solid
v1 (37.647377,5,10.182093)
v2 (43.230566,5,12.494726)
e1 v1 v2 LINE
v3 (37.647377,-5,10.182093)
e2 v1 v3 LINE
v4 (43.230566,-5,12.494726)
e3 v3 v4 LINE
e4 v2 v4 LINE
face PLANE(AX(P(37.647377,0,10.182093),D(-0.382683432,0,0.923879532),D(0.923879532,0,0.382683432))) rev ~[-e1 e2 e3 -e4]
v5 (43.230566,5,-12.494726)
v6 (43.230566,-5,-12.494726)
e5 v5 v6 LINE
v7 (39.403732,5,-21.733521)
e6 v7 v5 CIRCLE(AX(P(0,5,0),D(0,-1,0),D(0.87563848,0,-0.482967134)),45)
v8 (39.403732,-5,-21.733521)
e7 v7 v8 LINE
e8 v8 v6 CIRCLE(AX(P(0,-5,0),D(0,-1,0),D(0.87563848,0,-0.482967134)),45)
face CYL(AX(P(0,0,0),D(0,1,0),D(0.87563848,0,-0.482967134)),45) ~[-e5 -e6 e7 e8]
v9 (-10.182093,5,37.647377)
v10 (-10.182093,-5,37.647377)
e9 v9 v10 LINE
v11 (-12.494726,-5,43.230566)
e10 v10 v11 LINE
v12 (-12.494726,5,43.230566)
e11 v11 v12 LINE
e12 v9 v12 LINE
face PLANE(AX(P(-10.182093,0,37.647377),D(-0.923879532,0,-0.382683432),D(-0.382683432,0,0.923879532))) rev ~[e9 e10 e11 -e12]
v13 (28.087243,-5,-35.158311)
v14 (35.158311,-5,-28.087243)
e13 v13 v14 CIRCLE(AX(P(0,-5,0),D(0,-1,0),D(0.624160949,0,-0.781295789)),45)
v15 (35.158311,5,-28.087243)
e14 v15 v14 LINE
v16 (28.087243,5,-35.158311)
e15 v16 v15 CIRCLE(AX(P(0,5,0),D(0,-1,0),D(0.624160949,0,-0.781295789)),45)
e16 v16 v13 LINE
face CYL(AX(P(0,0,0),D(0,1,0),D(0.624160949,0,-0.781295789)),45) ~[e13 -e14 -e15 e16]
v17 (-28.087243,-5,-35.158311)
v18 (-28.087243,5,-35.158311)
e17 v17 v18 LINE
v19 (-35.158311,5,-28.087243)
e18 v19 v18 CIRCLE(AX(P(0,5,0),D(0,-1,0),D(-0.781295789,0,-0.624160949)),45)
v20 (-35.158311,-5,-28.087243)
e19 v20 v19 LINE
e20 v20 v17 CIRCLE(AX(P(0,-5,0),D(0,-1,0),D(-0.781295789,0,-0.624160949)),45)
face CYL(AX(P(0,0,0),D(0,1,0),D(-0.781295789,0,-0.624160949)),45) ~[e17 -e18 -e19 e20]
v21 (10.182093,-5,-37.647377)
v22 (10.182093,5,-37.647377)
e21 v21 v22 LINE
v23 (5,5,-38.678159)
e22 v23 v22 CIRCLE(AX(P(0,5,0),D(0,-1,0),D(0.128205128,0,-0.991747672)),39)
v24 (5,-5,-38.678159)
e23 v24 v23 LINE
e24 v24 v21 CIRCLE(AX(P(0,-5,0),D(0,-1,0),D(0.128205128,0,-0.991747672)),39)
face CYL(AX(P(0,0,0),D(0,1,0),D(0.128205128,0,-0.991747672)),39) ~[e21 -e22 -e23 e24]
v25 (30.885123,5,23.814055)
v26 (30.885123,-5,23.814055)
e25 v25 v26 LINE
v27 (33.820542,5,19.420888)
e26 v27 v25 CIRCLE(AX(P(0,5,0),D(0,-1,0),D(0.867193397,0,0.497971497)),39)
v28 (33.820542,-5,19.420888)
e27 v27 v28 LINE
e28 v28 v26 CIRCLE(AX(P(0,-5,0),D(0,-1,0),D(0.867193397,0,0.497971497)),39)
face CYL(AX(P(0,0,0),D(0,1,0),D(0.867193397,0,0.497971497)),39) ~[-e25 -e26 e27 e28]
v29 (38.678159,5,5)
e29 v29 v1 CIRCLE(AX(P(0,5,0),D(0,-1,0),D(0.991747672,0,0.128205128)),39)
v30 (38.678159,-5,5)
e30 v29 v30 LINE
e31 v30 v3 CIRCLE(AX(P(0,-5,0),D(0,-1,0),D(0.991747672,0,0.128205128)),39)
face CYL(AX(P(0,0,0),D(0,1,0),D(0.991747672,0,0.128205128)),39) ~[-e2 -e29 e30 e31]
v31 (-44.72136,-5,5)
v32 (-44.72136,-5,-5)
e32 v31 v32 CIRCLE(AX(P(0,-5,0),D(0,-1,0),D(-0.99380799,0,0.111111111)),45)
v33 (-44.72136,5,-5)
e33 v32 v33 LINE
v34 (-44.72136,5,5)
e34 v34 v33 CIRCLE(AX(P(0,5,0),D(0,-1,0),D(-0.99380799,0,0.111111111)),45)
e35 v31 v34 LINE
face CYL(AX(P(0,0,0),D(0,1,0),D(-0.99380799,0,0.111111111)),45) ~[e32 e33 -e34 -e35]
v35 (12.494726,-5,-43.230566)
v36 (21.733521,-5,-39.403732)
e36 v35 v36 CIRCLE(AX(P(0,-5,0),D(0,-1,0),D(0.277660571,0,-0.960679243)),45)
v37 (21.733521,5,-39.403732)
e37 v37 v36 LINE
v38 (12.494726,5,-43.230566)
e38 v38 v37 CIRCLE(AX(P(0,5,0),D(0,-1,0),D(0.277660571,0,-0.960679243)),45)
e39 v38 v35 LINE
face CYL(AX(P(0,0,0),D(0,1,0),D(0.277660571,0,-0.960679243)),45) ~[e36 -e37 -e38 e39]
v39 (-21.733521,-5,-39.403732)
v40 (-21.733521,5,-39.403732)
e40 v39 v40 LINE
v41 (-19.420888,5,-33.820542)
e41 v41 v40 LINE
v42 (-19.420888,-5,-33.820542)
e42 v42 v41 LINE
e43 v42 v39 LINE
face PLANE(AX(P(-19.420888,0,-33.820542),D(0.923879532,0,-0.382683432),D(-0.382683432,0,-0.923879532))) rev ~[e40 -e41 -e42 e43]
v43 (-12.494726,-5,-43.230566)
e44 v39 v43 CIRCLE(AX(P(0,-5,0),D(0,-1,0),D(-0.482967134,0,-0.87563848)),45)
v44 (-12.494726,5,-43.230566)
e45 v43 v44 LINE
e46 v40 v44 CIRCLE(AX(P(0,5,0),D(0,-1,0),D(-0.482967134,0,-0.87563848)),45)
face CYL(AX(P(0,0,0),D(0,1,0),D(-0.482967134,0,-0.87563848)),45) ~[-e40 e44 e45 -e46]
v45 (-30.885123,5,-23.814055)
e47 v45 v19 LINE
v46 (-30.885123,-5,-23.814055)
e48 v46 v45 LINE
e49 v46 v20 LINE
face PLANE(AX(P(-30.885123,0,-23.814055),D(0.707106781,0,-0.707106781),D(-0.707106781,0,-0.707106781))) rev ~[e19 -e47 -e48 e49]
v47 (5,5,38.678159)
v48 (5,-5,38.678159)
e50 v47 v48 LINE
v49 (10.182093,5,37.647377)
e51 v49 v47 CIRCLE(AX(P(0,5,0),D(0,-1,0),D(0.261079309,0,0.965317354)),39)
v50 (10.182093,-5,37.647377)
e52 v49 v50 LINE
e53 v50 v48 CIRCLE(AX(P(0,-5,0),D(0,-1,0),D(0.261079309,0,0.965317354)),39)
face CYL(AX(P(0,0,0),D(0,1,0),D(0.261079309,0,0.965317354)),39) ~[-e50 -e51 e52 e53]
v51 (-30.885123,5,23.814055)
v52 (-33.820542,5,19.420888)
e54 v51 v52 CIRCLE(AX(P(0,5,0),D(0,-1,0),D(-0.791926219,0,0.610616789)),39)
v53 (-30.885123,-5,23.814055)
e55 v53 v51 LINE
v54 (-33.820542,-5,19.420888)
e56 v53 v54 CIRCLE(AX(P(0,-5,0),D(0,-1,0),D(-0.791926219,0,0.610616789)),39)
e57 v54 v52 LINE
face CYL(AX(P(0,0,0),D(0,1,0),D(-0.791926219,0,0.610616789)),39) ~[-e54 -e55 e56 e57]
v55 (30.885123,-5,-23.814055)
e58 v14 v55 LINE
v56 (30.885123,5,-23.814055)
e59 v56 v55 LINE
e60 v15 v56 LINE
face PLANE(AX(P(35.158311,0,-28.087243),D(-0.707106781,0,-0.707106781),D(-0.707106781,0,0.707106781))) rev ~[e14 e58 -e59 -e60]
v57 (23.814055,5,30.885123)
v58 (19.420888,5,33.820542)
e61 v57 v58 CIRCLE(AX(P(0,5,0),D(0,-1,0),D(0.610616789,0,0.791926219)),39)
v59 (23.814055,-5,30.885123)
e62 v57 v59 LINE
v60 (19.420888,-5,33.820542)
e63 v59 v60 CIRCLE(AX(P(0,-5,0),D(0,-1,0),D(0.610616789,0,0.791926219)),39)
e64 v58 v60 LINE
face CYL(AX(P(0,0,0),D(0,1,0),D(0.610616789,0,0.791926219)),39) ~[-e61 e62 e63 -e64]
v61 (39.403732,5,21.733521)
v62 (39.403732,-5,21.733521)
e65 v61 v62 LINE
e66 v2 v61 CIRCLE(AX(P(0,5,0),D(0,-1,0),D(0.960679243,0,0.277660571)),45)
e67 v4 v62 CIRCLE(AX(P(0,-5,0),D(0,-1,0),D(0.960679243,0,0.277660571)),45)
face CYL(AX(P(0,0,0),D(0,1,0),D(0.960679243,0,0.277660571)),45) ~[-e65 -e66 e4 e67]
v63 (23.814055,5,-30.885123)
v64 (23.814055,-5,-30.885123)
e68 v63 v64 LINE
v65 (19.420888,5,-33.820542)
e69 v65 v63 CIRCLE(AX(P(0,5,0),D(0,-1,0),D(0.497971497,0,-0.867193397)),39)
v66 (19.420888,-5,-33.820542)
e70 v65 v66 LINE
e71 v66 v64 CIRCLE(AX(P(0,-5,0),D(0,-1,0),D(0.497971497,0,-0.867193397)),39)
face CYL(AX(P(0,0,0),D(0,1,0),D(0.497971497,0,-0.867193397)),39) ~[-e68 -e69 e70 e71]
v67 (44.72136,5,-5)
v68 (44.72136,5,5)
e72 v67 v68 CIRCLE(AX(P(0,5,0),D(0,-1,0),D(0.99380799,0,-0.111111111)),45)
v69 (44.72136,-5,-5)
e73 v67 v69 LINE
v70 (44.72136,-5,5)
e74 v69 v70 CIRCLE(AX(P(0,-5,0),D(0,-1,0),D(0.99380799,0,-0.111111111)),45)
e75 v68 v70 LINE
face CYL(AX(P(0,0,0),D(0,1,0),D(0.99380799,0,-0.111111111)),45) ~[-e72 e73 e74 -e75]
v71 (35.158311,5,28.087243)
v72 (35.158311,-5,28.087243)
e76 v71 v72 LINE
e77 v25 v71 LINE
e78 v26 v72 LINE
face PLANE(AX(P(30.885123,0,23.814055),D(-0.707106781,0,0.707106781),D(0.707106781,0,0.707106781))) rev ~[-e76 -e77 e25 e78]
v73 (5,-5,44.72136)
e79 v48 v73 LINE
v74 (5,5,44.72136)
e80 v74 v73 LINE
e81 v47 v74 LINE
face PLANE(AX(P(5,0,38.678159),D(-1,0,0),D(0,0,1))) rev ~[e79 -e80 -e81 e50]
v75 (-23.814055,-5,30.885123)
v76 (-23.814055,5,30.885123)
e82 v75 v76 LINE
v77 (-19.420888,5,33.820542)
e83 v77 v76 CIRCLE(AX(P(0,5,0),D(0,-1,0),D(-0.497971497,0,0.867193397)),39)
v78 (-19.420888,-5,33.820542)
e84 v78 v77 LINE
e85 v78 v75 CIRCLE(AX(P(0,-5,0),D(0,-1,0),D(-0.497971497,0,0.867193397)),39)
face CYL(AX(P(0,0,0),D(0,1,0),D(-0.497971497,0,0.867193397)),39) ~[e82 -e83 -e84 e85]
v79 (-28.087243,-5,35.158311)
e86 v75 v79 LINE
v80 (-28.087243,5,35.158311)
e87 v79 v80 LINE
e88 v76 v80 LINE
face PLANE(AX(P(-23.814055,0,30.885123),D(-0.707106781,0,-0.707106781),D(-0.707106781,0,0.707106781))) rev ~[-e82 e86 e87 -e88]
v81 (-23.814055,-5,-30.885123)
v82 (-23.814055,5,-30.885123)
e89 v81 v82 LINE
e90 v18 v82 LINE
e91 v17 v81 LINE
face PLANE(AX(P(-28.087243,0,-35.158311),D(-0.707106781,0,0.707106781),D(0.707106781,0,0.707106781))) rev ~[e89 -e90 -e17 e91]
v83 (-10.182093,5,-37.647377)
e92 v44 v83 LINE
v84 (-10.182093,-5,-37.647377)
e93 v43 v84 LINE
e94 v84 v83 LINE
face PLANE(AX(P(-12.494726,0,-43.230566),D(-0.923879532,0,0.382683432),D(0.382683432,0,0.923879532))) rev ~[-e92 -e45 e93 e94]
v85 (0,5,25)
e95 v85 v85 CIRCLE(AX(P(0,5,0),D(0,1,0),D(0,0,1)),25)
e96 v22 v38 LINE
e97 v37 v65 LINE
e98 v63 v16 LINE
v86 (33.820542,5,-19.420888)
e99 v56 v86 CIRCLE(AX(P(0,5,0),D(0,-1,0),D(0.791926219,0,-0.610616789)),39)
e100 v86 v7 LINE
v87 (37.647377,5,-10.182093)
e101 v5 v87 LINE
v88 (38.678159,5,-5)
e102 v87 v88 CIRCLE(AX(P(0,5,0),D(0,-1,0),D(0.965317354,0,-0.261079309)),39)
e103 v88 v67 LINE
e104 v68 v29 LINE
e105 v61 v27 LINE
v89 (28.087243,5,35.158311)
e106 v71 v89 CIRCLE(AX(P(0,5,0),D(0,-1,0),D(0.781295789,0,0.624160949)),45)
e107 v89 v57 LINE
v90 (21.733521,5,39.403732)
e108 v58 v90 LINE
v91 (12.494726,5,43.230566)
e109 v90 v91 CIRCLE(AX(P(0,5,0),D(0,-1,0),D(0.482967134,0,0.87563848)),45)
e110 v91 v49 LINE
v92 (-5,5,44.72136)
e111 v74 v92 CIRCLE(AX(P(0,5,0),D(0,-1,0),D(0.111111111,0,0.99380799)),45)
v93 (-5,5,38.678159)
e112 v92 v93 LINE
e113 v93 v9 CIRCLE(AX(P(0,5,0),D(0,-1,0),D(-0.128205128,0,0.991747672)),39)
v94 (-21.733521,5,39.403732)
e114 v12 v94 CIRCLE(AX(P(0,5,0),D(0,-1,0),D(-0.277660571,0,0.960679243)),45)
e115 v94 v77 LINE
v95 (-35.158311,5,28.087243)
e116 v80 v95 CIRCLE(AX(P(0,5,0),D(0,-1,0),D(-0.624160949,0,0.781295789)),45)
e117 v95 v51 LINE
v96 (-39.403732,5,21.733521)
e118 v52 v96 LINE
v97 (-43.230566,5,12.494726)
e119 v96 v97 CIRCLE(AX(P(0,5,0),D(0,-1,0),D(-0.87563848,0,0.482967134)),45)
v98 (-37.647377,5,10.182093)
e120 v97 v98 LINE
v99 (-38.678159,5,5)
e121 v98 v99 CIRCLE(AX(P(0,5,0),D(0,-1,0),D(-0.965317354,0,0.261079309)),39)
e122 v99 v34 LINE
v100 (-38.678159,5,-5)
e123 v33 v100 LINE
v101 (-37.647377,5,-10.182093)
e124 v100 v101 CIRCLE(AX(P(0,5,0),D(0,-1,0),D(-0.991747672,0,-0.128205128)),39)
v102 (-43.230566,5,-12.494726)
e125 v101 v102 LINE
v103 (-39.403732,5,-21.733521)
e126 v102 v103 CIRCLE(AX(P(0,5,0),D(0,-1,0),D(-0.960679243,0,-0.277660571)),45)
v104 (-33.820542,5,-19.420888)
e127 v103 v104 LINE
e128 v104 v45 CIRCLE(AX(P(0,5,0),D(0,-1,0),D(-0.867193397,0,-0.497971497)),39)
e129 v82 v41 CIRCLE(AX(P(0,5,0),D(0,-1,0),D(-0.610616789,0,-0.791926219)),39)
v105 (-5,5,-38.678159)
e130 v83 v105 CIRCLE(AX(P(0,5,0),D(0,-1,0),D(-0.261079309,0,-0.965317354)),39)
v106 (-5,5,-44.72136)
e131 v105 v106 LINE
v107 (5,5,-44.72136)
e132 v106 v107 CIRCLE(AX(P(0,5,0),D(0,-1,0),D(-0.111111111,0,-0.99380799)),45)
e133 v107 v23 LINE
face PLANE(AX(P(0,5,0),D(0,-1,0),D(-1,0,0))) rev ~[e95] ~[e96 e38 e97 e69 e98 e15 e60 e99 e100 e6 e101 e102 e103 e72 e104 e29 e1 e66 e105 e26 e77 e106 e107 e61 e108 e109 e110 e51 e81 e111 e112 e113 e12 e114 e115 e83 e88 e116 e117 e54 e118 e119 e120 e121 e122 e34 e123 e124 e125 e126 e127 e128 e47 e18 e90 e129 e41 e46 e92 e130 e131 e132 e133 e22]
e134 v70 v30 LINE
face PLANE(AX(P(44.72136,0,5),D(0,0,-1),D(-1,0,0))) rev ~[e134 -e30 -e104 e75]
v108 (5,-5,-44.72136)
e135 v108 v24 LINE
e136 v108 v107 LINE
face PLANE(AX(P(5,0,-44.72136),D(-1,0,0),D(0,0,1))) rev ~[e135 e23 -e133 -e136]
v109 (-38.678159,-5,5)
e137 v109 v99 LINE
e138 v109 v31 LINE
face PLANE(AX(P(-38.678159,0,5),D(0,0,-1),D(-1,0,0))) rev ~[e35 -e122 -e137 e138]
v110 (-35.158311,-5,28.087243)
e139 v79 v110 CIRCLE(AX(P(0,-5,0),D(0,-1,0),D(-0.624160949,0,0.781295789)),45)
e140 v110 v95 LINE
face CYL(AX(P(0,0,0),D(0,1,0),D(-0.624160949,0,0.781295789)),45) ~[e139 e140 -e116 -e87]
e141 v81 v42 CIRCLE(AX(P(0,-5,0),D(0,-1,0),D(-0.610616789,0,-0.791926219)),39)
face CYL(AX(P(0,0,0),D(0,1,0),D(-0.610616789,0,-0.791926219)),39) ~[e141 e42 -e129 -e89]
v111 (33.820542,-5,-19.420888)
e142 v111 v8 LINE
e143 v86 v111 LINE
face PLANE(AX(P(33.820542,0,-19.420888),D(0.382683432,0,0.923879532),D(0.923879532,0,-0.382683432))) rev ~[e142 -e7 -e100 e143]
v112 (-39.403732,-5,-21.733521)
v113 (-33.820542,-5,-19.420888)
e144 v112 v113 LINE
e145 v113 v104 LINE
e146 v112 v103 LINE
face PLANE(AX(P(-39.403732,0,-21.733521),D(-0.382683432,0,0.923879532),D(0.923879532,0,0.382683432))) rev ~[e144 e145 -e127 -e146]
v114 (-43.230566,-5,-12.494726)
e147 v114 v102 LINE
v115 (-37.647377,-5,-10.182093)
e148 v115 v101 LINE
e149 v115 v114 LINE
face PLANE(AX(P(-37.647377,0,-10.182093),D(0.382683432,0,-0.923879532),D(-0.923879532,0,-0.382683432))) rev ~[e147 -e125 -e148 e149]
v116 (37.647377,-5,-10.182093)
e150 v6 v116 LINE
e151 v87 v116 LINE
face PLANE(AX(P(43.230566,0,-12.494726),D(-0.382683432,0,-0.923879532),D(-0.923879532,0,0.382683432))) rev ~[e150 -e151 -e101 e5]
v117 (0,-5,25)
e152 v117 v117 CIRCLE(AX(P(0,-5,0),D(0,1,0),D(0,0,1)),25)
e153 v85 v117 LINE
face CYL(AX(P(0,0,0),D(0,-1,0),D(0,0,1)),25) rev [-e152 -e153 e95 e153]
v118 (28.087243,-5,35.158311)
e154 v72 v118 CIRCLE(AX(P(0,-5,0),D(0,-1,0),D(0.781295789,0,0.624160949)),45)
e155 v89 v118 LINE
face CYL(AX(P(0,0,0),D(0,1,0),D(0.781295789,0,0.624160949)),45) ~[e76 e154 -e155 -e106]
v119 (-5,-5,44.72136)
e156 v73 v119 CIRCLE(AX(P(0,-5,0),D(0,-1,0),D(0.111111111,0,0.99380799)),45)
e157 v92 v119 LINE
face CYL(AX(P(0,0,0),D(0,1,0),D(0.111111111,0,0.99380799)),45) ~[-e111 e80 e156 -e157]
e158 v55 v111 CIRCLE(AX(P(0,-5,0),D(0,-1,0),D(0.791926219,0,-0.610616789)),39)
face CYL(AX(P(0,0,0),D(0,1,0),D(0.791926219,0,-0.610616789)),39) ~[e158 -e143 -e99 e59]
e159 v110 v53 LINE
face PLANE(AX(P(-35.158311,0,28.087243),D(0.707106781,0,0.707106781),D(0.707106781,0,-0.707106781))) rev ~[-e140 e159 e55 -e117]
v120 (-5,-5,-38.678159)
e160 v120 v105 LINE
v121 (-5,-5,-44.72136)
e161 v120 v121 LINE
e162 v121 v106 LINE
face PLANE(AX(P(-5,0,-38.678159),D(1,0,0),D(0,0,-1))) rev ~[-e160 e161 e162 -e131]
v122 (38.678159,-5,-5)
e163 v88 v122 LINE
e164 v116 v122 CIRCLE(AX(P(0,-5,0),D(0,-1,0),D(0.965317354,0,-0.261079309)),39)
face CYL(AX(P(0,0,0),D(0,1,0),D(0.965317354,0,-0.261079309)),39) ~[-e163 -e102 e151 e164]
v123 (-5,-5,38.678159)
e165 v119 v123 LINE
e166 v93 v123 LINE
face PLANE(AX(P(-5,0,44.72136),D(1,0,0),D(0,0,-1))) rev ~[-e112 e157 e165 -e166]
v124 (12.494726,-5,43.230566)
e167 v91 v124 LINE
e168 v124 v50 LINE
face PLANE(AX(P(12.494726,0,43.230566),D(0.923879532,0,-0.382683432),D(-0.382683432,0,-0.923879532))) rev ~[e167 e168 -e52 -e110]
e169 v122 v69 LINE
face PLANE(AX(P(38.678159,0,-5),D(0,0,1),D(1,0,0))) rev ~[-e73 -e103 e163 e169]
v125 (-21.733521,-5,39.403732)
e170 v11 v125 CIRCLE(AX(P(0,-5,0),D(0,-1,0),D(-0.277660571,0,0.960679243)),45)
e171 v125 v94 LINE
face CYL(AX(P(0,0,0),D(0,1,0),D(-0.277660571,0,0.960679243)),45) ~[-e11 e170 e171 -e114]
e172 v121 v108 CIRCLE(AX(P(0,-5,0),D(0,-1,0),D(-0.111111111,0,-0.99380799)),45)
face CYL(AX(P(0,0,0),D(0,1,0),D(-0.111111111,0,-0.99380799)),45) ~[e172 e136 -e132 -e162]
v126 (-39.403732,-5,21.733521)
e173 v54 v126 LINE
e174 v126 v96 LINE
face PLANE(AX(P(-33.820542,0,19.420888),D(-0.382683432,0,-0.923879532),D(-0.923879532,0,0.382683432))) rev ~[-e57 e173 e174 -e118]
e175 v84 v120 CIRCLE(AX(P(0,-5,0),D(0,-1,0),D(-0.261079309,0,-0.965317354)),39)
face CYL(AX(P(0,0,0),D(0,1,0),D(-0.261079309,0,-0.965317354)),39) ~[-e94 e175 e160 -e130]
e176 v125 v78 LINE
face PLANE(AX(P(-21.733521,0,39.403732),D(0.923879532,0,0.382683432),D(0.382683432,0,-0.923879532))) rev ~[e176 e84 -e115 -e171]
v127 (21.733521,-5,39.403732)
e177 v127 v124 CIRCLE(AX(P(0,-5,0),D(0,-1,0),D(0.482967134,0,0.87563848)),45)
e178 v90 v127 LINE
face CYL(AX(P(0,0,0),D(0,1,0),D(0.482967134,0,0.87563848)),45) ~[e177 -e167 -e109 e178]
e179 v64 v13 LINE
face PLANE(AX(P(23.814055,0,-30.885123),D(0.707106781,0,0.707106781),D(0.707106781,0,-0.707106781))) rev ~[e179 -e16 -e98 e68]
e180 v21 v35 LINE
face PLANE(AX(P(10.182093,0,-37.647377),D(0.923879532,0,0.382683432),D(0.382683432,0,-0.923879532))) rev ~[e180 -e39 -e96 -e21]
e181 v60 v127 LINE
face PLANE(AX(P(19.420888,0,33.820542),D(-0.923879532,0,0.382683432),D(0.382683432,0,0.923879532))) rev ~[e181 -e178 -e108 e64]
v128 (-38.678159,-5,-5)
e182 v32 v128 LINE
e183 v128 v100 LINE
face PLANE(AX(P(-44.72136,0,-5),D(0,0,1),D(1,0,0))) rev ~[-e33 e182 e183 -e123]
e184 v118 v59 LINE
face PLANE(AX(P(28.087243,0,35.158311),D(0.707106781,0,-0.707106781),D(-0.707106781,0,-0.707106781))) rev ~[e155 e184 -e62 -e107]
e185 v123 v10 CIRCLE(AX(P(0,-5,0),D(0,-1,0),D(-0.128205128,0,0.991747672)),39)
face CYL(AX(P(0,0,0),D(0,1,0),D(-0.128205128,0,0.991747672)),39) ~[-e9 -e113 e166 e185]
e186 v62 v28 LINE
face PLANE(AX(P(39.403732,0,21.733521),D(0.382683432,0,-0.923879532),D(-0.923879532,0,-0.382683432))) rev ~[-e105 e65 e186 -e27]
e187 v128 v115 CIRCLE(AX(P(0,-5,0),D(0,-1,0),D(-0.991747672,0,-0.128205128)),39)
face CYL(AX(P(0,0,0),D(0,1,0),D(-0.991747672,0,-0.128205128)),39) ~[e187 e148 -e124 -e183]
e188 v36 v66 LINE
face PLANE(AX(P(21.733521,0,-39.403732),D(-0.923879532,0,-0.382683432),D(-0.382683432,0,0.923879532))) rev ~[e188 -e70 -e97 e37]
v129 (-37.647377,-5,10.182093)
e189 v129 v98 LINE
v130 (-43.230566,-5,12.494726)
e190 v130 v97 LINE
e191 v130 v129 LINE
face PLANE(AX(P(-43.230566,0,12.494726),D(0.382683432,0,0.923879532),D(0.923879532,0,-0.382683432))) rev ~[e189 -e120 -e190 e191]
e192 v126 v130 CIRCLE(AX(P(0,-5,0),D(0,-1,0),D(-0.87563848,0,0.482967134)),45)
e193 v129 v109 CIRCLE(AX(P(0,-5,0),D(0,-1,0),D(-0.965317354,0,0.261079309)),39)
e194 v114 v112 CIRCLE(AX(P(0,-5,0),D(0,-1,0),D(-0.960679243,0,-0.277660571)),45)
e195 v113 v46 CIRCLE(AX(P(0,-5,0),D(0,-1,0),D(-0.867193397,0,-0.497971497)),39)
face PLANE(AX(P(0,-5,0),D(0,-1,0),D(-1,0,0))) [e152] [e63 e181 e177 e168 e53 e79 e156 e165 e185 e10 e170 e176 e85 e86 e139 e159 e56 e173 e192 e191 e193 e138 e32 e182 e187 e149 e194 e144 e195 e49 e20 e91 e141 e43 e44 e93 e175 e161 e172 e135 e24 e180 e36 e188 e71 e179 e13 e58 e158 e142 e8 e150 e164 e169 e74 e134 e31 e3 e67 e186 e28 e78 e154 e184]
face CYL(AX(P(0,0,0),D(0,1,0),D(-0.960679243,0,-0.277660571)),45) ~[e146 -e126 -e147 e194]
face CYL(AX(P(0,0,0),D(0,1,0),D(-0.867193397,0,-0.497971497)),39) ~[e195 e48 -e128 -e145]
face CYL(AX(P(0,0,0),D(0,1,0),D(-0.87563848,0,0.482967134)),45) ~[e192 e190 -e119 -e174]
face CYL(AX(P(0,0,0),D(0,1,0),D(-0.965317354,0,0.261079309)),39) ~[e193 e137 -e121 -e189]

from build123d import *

# Parameters (mm, degrees)
SKETCH1_R           = 25
BOSS_EXTRUDE1_DEPTH = 5


with BuildPart() as part:
    # Sketch1 → Boss-Extrude1 (new, symmetric)
    with BuildSketch(Plane(origin=(0, 0, 0), x_dir=(1, 0, 0), z_dir=(0, 1, 0))):
        with BuildLine():
            Line((10.182093062, 37.647376813), (12.49472571, 43.230565916))
            ThreePointArc((12.49472571, 43.230565916), (17.220754456, 41.574578963), (21.733521035, 39.403731592))
            Line((21.733521035, 39.403731592), (19.420888387, 33.820542489))
            ThreePointArc((19.420888387, 33.820542489), (21.667239088, 32.42731488), (23.814054756, 30.885122568))
            Line((23.814054756, 30.885122568), (28.087242696, 35.158310508))
            ThreePointArc((28.087242696, 35.158310508), (31.819805153, 31.819805153), (35.158310508, 28.087242696))
            Line((35.158310508, 28.087242696), (30.885122568, 23.814054756))
            ThreePointArc((30.885122568, 23.814054756), (32.42731488, 21.667239088), (33.820542489, 19.420888387))
            Line((33.820542489, 19.420888387), (39.403731592, 21.733521035))
            ThreePointArc((39.403731592, 21.733521035), (41.574578963, 17.220754456), (43.230565916, 12.49472571))
            Line((43.230565916, 12.49472571), (37.647376813, 10.182093062))
            ThreePointArc((37.647376813, 10.182093062), (38.250625936, 7.608522559), (38.678159212, 5))
            Line((38.678159212, 5), (44.72135955, 5))
            ThreePointArc((44.72135955, 5), (45, 0), (44.72135955, -5))
            Line((44.72135955, -5), (38.678159212, -5))
            ThreePointArc((38.678159212, -5), (38.250625936, -7.608522559), (37.647376813, -10.182093062))
            Line((37.647376813, -10.182093062), (43.230565916, -12.49472571))
            ThreePointArc((43.230565916, -12.49472571), (41.574578963, -17.220754456), (39.403731592, -21.733521035))
            Line((39.403731592, -21.733521035), (33.820542489, -19.420888387))
            ThreePointArc((33.820542489, -19.420888387), (32.42731488, -21.667239088), (30.885122568, -23.814054756))
            Line((30.885122568, -23.814054756), (35.158310508, -28.087242696))
            ThreePointArc((35.158310508, -28.087242696), (31.819805153, -31.819805153), (28.087242696, -35.158310508))
            Line((28.087242696, -35.158310508), (23.814054756, -30.885122568))
            ThreePointArc((23.814054756, -30.885122568), (21.667239088, -32.42731488), (19.420888387, -33.820542489))
            Line((19.420888387, -33.820542489), (21.733521035, -39.403731592))
            ThreePointArc((21.733521035, -39.403731592), (17.220754456, -41.574578963), (12.49472571, -43.230565916))
            Line((12.49472571, -43.230565916), (10.182093062, -37.647376813))
            ThreePointArc((10.182093062, -37.647376813), (7.608522559, -38.250625936), (5, -38.678159212))
            Line((5, -38.678159212), (5, -44.72135955))
            ThreePointArc((5, -44.72135955), (0, -45), (-5, -44.72135955))
            Line((-5, -44.72135955), (-5, -38.678159212))
            ThreePointArc((-5, -38.678159212), (-7.608522559, -38.250625936), (-10.182093062, -37.647376813))
            Line((-10.182093062, -37.647376813), (-12.49472571, -43.230565916))
            ThreePointArc((-12.49472571, -43.230565916), (-17.220754456, -41.574578963), (-21.733521035, -39.403731592))
            Line((-21.733521035, -39.403731592), (-19.420888387, -33.820542489))
            ThreePointArc((-19.420888387, -33.820542489), (-21.667239088, -32.42731488), (-23.814054756, -30.885122568))
            Line((-23.814054756, -30.885122568), (-28.087242696, -35.158310508))
            ThreePointArc((-28.087242696, -35.158310508), (-31.819805153, -31.819805153), (-35.158310508, -28.087242696))
            Line((-35.158310508, -28.087242696), (-30.885122568, -23.814054756))
            ThreePointArc((-30.885122568, -23.814054756), (-32.42731488, -21.667239088), (-33.820542489, -19.420888387))
            Line((-33.820542489, -19.420888387), (-39.403731592, -21.733521035))
            ThreePointArc((-39.403731592, -21.733521035), (-41.574578963, -17.220754456), (-43.230565916, -12.49472571))
            Line((-43.230565916, -12.49472571), (-37.647376813, -10.182093062))
            ThreePointArc((-37.647376813, -10.182093062), (-38.250625936, -7.608522559), (-38.678159212, -5))
            Line((-38.678159212, -5), (-44.72135955, -5))
            ThreePointArc((-44.72135955, -5), (-45, 0), (-44.72135955, 5))
            Line((-44.72135955, 5), (-38.678159212, 5))
            ThreePointArc((-38.678159212, 5), (-38.250625936, 7.608522559), (-37.647376813, 10.182093062))
            Line((-37.647376813, 10.182093062), (-43.230565916, 12.49472571))
            ThreePointArc((-43.230565916, 12.49472571), (-41.574578963, 17.220754456), (-39.403731592, 21.733521035))
            Line((-39.403731592, 21.733521035), (-33.820542489, 19.420888387))
            ThreePointArc((-33.820542489, 19.420888387), (-32.42731488, 21.667239088), (-30.885122568, 23.814054756))
            Line((-30.885122568, 23.814054756), (-35.158310508, 28.087242696))
            ThreePointArc((-35.158310508, 28.087242696), (-31.819805153, 31.819805153), (-28.087242696, 35.158310508))
            Line((-28.087242696, 35.158310508), (-23.814054756, 30.885122568))
            ThreePointArc((-23.814054756, 30.885122568), (-21.667239088, 32.42731488), (-19.420888387, 33.820542489))
            Line((-19.420888387, 33.820542489), (-21.733521035, 39.403731592))
            ThreePointArc((-21.733521035, 39.403731592), (-17.220754456, 41.574578963), (-12.49472571, 43.230565916))
            Line((-12.49472571, 43.230565916), (-10.182093062, 37.647376813))
            ThreePointArc((-10.182093062, 37.647376813), (-7.608522559, 38.250625936), (-5, 38.678159212))
            Line((-5, 38.678159212), (-5, 44.72135955))
            ThreePointArc((-5, 44.72135955), (0, 45), (5, 44.72135955))
            Line((5, 44.72135955), (5, 38.678159212))
            ThreePointArc((5, 38.678159212), (7.608522559, 38.250625936), (10.182093062, 37.647376813))
        make_face()
        with Locations(Location((0, 0, 0), (0, 0, 270))):
            Circle(SKETCH1_R, mode=Mode.SUBTRACT)
    extrude(amount=BOSS_EXTRUDE1_DEPTH, both=True)


solid = part.part
